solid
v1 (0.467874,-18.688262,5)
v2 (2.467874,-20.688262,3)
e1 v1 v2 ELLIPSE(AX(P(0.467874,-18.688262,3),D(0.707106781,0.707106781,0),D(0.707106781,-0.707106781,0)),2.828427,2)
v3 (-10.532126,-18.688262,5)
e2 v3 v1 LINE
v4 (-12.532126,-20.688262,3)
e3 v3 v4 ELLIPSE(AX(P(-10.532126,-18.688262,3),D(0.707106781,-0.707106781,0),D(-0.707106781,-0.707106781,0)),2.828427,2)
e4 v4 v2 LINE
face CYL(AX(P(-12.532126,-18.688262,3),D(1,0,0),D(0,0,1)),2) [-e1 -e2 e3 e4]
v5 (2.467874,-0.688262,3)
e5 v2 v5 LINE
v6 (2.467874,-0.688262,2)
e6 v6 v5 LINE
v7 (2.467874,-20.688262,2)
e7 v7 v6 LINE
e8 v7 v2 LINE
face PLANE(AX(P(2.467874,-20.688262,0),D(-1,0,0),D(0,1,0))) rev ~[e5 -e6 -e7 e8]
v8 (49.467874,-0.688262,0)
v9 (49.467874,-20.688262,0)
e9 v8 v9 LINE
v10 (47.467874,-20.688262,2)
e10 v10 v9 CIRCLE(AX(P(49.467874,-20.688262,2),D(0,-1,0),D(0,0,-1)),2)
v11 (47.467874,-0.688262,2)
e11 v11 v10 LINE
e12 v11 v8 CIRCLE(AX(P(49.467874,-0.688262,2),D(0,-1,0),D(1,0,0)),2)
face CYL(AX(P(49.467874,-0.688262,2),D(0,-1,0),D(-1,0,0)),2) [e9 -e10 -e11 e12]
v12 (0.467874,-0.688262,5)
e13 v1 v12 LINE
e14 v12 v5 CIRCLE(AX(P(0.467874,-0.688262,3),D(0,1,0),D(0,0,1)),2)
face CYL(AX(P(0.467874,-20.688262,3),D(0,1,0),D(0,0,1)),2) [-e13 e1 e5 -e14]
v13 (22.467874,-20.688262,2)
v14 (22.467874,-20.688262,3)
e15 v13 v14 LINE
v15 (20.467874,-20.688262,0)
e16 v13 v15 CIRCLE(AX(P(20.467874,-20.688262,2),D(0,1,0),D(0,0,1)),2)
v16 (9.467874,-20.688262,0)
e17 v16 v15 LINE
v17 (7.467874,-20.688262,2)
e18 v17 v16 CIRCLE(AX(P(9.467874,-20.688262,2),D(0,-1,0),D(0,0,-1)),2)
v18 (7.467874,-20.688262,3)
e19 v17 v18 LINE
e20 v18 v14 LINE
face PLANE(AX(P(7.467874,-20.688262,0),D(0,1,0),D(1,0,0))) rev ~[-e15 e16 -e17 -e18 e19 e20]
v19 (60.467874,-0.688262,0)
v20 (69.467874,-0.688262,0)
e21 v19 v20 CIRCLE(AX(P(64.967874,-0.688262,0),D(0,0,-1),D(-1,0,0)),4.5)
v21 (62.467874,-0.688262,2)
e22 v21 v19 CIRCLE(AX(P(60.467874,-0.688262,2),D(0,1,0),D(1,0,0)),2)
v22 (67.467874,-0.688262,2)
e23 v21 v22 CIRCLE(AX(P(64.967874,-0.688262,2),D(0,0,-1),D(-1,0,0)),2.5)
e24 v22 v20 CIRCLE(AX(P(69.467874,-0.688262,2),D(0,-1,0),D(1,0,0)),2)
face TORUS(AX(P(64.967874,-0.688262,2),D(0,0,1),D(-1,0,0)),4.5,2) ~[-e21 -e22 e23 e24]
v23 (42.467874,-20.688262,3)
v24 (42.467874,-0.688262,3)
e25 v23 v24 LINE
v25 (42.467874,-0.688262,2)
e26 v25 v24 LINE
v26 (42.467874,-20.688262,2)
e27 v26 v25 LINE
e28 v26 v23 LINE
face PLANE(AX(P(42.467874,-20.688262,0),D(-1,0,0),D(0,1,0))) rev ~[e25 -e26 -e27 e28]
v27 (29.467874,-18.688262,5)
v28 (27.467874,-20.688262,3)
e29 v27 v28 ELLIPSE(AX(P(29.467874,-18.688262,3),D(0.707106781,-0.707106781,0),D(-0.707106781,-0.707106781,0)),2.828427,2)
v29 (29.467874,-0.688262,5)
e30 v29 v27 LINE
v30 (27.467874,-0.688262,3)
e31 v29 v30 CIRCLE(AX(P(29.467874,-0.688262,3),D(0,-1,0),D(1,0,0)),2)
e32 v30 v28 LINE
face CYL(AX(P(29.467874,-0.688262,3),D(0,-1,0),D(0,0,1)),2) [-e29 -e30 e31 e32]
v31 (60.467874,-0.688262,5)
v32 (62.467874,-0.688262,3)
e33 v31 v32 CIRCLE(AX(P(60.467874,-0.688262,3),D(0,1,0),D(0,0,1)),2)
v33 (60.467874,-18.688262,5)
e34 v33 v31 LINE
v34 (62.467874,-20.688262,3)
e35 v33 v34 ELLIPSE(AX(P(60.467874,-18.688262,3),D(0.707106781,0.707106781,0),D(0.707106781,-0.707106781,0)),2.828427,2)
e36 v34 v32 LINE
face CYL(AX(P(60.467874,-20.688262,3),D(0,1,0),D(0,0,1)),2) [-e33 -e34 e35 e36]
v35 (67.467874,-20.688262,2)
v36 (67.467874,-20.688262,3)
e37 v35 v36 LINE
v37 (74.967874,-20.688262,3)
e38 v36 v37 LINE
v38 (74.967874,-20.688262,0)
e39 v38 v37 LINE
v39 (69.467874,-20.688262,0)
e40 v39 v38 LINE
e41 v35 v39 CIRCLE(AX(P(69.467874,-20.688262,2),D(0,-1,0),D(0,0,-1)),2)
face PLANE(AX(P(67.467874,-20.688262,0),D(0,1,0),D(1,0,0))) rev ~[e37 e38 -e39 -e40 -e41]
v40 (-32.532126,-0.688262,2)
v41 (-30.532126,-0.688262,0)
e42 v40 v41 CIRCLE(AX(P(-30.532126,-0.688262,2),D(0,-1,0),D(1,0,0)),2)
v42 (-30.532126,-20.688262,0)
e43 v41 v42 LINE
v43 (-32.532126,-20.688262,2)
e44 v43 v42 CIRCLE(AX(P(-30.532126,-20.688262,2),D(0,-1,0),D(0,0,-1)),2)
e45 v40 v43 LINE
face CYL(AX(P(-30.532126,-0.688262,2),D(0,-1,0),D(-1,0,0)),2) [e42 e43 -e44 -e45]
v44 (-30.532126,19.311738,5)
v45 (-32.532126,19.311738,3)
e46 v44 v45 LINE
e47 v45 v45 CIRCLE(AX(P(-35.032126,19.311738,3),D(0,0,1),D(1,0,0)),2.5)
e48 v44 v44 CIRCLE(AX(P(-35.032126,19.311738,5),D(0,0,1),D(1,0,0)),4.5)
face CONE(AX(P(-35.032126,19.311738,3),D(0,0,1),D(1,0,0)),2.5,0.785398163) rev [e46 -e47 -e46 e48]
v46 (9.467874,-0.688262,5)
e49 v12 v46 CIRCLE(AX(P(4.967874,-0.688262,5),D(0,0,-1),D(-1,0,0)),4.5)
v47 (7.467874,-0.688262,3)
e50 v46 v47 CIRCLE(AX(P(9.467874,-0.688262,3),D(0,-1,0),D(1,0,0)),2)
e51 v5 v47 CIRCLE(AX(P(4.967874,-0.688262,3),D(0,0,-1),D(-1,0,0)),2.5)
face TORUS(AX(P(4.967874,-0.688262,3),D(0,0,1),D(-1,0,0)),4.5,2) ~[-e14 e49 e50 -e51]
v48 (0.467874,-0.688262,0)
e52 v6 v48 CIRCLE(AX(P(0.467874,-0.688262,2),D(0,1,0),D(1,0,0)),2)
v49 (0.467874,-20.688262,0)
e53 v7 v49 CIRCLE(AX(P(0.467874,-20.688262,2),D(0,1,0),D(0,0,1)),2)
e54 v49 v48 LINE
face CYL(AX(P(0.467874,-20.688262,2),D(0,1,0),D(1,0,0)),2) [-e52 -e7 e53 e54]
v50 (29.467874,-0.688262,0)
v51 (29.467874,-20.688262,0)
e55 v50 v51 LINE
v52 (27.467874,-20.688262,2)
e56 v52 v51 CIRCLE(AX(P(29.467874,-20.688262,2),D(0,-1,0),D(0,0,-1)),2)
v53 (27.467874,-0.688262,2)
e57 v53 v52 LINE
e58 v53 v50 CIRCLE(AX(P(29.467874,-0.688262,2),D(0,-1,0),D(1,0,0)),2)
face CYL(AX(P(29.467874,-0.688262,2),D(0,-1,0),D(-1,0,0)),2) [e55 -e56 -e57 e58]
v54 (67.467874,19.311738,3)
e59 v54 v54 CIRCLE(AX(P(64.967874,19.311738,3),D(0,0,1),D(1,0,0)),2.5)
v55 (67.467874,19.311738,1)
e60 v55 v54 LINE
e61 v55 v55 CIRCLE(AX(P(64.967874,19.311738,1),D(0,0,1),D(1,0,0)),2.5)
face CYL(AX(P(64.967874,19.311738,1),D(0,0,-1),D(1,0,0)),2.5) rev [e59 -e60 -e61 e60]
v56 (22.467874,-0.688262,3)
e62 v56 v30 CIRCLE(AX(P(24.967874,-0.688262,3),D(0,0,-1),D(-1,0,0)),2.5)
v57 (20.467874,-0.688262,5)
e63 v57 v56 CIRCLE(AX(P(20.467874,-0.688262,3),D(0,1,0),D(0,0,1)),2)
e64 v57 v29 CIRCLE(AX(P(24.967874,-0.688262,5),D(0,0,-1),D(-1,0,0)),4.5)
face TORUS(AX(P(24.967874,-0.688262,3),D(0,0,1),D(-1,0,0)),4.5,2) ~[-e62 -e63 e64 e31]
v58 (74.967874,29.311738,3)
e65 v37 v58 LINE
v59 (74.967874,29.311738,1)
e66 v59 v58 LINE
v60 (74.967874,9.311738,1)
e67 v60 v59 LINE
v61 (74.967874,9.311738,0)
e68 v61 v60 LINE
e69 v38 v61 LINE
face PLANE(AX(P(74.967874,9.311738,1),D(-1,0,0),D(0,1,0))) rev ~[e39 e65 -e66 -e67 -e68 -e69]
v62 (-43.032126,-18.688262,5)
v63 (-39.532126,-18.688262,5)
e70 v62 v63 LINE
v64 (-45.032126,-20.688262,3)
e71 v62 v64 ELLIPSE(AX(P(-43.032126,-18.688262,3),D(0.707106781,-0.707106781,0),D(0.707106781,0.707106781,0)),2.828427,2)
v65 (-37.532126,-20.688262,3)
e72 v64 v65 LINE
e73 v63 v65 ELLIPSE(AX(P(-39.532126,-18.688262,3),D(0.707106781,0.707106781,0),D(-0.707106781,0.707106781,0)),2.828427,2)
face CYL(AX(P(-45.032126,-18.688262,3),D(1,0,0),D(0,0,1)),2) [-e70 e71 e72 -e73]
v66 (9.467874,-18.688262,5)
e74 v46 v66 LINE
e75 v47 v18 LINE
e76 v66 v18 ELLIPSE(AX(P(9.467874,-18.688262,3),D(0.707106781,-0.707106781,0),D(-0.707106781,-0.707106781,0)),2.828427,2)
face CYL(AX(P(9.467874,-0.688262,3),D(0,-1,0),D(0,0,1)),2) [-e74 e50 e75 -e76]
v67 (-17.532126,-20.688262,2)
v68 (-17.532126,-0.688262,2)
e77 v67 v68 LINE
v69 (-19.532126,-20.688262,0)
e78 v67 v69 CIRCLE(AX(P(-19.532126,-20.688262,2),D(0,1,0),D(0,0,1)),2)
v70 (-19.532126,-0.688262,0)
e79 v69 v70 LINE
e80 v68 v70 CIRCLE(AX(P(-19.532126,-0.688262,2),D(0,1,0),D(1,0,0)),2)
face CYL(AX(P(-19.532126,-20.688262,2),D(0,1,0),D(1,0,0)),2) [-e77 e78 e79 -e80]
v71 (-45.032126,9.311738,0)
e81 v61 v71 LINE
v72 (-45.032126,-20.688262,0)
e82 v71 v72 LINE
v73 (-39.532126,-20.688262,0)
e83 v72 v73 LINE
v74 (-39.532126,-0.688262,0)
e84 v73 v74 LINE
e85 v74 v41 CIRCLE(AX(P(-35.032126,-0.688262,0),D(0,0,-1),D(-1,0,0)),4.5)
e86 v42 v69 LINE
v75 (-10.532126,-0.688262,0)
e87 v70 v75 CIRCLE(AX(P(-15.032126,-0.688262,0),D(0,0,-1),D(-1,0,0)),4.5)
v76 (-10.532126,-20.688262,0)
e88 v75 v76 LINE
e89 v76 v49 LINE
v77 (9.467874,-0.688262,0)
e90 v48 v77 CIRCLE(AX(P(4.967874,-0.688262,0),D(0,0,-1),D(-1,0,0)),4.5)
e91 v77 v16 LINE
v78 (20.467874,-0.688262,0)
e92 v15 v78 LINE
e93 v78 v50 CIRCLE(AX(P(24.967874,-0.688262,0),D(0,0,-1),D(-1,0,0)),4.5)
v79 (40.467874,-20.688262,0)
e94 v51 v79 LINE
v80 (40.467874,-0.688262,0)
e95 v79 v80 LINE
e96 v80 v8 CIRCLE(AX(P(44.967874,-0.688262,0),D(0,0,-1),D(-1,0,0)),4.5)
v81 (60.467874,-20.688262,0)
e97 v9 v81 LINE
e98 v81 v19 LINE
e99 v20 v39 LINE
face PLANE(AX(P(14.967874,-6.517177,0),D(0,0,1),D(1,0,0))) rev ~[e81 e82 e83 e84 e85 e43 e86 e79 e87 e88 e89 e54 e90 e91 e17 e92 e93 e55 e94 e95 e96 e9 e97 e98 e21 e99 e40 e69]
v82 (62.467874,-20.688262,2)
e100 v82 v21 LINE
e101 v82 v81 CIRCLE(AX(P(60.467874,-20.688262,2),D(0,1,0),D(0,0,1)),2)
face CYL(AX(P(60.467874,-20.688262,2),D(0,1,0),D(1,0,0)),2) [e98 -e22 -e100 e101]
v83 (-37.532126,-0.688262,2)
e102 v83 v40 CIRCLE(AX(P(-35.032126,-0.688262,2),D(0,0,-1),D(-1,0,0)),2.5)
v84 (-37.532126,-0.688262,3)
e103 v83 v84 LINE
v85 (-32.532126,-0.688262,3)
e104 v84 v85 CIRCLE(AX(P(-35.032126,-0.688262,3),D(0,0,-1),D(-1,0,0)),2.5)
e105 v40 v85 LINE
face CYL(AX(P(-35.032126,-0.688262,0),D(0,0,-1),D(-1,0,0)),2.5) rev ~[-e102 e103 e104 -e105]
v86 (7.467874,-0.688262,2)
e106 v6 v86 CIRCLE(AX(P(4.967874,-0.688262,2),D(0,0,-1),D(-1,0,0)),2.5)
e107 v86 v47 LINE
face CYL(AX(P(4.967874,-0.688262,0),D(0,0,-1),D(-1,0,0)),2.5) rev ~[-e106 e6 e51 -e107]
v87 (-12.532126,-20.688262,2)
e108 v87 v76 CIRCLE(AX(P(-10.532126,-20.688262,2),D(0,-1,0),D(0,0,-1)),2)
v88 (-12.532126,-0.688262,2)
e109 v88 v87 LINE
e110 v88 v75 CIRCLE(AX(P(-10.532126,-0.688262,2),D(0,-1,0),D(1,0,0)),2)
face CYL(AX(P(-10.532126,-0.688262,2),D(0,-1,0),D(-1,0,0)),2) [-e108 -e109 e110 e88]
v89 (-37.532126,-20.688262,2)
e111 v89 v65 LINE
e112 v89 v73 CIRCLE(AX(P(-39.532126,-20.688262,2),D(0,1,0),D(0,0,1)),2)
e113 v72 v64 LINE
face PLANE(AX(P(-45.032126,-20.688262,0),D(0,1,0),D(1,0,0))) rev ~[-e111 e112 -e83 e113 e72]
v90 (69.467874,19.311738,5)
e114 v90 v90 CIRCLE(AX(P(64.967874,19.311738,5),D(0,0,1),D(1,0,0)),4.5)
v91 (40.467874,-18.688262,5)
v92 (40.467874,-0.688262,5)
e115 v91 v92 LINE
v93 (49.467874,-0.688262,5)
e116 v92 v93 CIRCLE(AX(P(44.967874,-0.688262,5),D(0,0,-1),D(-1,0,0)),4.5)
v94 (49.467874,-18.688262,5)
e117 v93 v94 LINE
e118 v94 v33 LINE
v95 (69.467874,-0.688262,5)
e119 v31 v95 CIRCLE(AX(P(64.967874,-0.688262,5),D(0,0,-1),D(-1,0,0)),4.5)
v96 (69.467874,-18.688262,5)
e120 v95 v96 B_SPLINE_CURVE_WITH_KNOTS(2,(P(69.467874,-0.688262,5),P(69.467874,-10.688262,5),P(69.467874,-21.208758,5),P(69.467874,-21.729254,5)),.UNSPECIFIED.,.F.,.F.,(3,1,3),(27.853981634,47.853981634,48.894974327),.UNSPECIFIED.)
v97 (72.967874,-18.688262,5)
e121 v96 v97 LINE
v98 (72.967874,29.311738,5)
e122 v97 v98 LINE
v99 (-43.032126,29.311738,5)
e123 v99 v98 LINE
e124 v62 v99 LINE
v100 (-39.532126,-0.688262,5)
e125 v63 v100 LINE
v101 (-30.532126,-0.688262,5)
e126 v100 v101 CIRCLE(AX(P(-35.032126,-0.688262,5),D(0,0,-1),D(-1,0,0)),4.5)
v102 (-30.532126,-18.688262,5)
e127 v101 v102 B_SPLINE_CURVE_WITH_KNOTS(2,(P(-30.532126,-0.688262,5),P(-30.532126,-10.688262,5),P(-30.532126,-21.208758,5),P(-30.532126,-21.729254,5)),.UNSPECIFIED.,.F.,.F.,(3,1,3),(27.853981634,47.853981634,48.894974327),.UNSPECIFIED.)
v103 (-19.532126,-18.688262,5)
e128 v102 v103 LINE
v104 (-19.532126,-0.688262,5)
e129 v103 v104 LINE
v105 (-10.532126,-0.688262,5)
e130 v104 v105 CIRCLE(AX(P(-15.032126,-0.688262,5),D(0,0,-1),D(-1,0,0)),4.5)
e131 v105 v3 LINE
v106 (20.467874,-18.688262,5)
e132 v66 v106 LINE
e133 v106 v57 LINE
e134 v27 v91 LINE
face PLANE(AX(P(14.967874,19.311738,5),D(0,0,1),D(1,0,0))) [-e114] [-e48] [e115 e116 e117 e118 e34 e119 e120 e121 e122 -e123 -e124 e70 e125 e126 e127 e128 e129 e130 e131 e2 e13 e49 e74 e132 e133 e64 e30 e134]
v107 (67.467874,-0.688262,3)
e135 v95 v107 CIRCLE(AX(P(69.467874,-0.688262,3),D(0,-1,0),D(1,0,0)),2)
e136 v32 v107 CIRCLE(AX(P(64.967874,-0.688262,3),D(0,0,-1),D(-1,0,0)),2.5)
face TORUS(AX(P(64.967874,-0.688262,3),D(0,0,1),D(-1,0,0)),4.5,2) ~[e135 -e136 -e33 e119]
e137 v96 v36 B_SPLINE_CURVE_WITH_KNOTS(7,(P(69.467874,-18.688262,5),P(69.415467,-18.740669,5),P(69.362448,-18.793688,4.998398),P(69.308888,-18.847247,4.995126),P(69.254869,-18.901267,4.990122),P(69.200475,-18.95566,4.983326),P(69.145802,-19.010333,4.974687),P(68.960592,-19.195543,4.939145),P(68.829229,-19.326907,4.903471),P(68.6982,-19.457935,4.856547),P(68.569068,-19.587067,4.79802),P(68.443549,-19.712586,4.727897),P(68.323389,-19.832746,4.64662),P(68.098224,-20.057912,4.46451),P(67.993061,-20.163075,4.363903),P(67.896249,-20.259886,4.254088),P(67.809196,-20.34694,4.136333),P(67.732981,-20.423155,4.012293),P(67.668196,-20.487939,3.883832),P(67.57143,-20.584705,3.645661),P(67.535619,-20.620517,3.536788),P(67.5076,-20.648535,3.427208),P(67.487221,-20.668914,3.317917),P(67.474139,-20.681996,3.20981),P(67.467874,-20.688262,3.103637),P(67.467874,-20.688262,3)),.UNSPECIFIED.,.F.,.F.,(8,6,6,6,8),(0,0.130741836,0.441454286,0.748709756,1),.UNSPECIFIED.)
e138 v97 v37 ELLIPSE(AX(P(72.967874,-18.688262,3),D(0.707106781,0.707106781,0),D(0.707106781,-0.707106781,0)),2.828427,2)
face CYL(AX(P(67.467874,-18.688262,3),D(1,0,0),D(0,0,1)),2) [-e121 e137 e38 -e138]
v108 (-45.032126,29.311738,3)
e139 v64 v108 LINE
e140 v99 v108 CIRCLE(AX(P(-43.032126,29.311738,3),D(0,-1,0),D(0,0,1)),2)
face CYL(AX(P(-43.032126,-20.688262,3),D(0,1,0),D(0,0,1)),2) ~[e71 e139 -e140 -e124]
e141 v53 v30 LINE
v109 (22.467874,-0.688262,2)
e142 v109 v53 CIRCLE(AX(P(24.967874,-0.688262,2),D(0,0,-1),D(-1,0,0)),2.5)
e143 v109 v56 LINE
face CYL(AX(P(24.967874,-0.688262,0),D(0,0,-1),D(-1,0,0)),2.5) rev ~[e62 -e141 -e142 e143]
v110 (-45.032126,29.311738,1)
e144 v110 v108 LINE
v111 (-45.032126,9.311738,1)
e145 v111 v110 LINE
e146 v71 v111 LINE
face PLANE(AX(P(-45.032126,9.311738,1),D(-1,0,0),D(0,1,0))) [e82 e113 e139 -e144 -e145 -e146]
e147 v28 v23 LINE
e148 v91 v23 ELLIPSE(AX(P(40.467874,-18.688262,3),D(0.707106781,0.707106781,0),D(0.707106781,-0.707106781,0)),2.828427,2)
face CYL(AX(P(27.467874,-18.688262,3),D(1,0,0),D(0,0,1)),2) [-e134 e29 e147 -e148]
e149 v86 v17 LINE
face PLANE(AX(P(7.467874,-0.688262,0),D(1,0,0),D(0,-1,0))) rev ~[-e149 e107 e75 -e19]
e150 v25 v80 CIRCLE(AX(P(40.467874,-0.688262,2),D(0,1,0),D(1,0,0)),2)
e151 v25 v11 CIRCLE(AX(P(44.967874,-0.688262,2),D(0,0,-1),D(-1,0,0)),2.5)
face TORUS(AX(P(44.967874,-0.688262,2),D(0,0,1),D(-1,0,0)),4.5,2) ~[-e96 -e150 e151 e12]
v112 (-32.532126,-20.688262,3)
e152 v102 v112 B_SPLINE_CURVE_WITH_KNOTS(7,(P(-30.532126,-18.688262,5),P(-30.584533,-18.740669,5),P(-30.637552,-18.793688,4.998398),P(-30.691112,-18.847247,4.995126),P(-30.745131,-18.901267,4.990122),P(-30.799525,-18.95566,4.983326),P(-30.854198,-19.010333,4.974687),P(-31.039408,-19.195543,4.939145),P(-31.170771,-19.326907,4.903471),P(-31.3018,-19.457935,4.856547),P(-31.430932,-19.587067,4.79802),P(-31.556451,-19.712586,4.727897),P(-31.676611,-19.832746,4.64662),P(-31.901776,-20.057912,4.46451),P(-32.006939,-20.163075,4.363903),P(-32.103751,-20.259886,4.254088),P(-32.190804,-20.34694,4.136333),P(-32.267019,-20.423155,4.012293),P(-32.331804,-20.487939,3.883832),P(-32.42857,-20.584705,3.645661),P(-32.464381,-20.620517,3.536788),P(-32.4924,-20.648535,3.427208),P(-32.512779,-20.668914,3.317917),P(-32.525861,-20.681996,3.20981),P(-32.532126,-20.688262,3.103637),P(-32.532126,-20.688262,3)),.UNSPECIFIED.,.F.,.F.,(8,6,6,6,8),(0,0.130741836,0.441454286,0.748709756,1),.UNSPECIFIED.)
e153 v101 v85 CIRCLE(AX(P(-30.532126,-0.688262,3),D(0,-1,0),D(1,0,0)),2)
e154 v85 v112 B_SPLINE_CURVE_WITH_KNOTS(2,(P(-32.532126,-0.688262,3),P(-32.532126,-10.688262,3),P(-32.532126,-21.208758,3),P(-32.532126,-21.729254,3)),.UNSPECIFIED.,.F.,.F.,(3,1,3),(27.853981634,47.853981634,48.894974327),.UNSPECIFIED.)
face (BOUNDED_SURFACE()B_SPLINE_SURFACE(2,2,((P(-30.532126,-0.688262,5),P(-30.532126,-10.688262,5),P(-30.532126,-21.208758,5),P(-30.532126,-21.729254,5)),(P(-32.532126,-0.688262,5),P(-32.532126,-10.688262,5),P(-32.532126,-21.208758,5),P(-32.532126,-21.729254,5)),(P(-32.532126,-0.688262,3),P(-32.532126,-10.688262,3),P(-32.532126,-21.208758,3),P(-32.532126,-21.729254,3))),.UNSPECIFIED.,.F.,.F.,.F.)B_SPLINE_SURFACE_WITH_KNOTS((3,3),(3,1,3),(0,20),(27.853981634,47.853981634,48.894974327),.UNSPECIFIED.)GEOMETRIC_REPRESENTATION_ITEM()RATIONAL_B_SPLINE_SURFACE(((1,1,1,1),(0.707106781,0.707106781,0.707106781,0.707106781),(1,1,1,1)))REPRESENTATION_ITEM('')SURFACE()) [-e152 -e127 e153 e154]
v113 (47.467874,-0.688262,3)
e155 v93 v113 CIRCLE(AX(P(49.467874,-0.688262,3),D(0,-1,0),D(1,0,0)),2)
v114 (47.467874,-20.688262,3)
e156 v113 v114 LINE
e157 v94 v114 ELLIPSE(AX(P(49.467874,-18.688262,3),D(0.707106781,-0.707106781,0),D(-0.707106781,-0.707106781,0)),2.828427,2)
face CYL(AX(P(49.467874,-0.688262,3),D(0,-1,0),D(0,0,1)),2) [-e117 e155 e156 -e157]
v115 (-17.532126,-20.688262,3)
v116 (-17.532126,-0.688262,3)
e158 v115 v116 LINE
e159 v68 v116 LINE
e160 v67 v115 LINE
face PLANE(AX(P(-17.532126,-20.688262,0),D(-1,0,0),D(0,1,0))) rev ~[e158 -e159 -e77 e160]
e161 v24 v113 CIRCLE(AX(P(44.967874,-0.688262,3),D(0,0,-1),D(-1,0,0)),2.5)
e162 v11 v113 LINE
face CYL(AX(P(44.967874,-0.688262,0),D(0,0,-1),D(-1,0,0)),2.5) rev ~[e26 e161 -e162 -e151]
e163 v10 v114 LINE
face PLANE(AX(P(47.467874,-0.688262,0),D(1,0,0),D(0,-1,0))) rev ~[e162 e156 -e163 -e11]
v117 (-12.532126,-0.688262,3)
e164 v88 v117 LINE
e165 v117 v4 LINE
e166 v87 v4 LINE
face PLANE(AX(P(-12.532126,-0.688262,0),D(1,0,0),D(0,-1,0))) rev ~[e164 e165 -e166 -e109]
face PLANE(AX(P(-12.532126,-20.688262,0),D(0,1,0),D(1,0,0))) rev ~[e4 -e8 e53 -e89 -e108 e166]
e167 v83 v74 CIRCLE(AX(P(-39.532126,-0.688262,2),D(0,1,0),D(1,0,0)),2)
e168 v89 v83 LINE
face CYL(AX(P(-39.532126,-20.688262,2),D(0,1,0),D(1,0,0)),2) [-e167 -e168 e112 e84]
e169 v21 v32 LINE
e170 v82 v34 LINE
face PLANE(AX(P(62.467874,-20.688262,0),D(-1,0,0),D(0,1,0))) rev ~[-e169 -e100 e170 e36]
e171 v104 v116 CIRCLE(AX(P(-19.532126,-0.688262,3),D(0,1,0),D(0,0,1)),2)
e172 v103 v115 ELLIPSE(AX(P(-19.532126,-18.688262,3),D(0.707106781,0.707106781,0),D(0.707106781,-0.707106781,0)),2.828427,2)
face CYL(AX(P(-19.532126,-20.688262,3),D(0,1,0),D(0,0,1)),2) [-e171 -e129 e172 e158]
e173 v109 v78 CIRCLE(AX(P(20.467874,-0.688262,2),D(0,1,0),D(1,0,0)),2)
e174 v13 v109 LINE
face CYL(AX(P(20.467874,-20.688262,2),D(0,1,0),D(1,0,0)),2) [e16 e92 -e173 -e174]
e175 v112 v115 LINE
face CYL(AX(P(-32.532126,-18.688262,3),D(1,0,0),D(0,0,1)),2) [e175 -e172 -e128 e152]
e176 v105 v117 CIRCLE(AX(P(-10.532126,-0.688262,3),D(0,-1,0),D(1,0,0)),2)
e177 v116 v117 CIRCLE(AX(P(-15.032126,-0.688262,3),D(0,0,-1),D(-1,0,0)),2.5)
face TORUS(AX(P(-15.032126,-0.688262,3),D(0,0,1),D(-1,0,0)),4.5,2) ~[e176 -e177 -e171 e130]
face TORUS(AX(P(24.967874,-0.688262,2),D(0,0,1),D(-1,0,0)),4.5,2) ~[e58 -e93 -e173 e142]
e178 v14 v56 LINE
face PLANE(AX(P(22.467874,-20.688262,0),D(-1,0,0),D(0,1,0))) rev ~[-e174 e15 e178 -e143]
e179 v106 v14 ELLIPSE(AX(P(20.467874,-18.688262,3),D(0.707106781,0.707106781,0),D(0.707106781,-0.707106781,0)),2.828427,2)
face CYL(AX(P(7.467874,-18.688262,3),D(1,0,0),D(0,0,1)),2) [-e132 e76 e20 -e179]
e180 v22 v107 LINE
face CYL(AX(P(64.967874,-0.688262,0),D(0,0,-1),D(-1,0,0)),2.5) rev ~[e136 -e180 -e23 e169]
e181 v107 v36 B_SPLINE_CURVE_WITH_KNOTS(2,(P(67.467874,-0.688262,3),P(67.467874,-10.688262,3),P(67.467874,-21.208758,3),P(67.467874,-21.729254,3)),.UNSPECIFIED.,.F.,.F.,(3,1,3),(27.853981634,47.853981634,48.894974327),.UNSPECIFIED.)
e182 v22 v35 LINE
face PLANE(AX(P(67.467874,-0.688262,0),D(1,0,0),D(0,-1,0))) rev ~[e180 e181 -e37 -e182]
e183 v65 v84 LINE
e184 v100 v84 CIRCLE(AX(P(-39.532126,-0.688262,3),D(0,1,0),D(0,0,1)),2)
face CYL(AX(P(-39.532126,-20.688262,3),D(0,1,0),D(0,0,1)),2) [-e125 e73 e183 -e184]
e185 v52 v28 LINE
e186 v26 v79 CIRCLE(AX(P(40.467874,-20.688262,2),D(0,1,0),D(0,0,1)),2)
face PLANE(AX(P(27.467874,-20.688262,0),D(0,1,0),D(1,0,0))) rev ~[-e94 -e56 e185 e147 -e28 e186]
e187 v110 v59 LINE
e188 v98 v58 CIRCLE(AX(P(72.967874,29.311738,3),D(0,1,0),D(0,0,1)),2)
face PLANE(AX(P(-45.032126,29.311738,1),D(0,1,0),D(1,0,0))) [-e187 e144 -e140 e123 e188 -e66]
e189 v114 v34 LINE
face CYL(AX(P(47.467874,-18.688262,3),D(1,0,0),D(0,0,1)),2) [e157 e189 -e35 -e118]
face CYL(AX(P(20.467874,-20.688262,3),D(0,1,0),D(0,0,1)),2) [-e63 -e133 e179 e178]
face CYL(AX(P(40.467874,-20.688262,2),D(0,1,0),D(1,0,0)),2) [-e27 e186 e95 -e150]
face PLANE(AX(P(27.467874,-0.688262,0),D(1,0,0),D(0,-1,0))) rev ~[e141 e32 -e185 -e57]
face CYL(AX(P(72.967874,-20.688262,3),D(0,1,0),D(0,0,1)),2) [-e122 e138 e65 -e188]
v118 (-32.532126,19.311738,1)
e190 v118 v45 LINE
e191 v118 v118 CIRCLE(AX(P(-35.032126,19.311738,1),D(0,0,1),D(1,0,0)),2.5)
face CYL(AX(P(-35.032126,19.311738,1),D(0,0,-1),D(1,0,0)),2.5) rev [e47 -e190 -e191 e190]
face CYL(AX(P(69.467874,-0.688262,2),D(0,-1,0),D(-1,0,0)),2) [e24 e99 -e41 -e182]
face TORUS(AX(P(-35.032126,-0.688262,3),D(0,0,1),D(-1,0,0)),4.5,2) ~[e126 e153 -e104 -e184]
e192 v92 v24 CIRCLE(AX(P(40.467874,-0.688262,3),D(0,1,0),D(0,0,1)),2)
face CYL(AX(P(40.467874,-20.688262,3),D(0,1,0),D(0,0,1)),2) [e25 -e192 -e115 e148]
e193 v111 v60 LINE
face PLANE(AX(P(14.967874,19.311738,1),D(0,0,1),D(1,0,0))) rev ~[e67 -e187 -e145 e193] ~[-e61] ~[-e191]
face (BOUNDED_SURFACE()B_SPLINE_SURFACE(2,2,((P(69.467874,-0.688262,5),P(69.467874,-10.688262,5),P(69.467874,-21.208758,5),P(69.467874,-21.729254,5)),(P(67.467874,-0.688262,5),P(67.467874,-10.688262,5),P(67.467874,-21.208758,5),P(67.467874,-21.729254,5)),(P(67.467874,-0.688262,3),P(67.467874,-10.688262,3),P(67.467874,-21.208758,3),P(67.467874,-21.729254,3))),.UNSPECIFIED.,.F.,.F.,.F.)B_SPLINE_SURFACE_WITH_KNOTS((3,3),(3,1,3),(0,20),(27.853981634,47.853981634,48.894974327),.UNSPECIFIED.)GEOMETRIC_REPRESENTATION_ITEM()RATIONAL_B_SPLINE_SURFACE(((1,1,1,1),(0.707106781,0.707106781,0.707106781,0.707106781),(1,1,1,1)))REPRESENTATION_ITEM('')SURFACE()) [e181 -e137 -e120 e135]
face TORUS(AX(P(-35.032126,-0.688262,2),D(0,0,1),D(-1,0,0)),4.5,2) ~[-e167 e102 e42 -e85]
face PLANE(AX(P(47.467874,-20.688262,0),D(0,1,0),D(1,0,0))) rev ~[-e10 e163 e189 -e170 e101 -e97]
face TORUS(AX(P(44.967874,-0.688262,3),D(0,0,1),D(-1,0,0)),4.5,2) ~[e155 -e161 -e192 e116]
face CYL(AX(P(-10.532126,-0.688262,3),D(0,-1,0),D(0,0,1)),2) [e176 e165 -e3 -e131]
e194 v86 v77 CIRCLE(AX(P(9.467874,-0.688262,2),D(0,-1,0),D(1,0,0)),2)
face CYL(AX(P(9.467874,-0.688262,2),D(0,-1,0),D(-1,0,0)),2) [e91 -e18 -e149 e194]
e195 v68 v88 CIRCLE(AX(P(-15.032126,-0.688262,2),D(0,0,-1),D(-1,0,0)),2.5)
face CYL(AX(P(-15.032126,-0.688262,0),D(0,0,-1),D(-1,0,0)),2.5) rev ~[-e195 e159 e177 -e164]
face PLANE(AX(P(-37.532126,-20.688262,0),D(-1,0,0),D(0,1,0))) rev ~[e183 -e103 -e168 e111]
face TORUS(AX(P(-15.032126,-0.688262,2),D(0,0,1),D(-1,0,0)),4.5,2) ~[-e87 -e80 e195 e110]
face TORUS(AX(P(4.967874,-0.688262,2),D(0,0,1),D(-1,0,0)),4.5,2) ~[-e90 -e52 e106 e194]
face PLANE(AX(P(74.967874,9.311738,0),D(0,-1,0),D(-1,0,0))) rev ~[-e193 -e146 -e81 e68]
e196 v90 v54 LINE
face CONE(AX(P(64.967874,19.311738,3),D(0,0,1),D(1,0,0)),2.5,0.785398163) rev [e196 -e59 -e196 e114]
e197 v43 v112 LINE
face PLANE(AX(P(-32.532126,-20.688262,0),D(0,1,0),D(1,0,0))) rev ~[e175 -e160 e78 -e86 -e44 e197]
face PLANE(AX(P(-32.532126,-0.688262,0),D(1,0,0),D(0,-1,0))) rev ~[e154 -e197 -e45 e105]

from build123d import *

# Parameters (mm, degrees)
F1_DEPTH = 5
F2_START = 1
F0_W     = 120
F0_H     = 20
F0_R     = 2.5
F2_DEPTH = 4
F3_SIZE  = 2
F4_R     = 2


with BuildPart() as f1:
    # F0 (on Top) → F1 (new body)
    with BuildSketch(Plane.XY):
        with BuildLine():
            Line((74.967873916, 9.3117384353), (-45.032126084, 9.3117384353))
            Line((-45.032126084, 9.3117384353), (-45.032126084, -20.6882615647))
            Line((-45.032126084, -20.6882615647), (-37.532126084, -20.6882615647))
            Line((-37.532126084, -20.6882615647), (-37.532126084, -0.6882615647))
            ThreePointArc((-37.532126084, -0.6882615647), (-35.032126084, 1.8117384353), (-32.532126084, -0.6882615647))
            Line((-32.532126084, -0.6882615647), (-32.532126084, -20.6882615647))
            Line((-32.532126084, -20.6882615647), (-17.532126084, -20.6882615647))
            Line((-17.532126084, -20.6882615647), (-17.532126084, -0.6882615647))
            ThreePointArc((-17.532126084, -0.6882615647), (-15.032126084, 1.8117384353), (-12.532126084, -0.6882615647))
            Line((-12.532126084, -0.6882615647), (-12.532126084, -20.6882615647))
            Line((-12.532126084, -20.6882615647), (2.467873916, -20.6882615647))
            Line((2.467873916, -20.6882615647), (2.467873916, -0.6882615647))
            ThreePointArc((2.467873916, -0.6882615647), (4.967873916, 1.8117384353), (7.467873916, -0.6882615647))
            Line((7.467873916, -0.6882615647), (7.467873916, -20.6882615647))
            Line((7.467873916, -20.6882615647), (22.467873916, -20.6882615647))
            Line((22.467873916, -20.6882615647), (22.467873916, -0.6882615647))
            ThreePointArc((22.467873916, -0.6882615647), (24.967873916, 1.8117384353), (27.467873916, -0.6882615647))
            Line((27.467873916, -0.6882615647), (27.467873916, -20.6882615647))
            Line((27.467873916, -20.6882615647), (42.467873916, -20.6882615647))
            Line((42.467873916, -20.6882615647), (42.467873916, -0.6882615647))
            ThreePointArc((42.467873916, -0.6882615647), (44.967873916, 1.8117384353), (47.467873916, -0.6882615647))
            Line((47.467873916, -0.6882615647), (47.467873916, -20.6882615647))
            Line((47.467873916, -20.6882615647), (62.467873916, -20.6882615647))
            Line((62.467873916, -20.6882615647), (62.467873916, -0.6882615647))
            ThreePointArc((62.467873916, -0.6882615647), (64.967873916, 1.8117384353), (67.467873916, -0.6882615647))
            Line((67.467873916, -0.6882615647), (67.467873916, -20.6882615647))
            Line((67.467873916, -20.6882615647), (74.967873916, -20.6882615647))
            Line((74.967873916, -20.6882615647), (74.967873916, 9.3117384353))
        make_face()
    extrude(amount=F1_DEPTH)

    # F0 (on Top) → F2 (join)
    with BuildSketch(Plane.XY.offset(F2_START)):
        with Locations((14.967873916, 19.3117384353)):
            Rectangle(F0_W, F0_H)
        with Locations((-35.032126084, 19.3117384353)):
            Circle(F0_R, mode=Mode.SUBTRACT)
        with Locations((64.967873916, 19.3117384353)):
            Circle(F0_R, mode=Mode.SUBTRACT)
    extrude(amount=F2_DEPTH)

    # F3
    f3_edges = [f1.edges().sort_by_distance(p)[0] for p in [
        (-37.532126, 19.311738, 5),
        (62.467874, 19.311738, 5),
    ]]
    chamfer(f3_edges, length=F3_SIZE)

    # F4
    f4_edges = [f1.edges().sort_by_distance(p)[0] for p in [
        (-37.532126, -10.688262, 5),
        (-41.282126, -20.688262, 5),
        (-25.032126, -20.688262, 5),
        (-17.532126, -10.688262, 5),
        (-5.032126, -20.688262, 5),
        (2.467874, -10.688262, 5),
        (14.967874, -20.688262, 5),
        (22.467874, -10.688262, 5),
        (34.967874, -20.688262, 5),
        (42.467874, -10.688262, 5),
        (54.967874, -20.688262, 5),
        (62.467874, -10.688262, 5),
        (71.217874, -20.688262, 5),
        (-45.032126, 4.311738, 5),
        (74.967874, 4.311738, 5),
        (27.467874, -10.688262, 0),
        (42.467874, -10.688262, 0),
        (62.467874, -10.688262, 0),
        (2.467874, -10.688262, 0),
        (-17.532126, -10.688262, 0),
        (-32.532126, -10.688262, 0),
    ]]
    fillet(f4_edges, radius=F4_R)


solid = f1.part
